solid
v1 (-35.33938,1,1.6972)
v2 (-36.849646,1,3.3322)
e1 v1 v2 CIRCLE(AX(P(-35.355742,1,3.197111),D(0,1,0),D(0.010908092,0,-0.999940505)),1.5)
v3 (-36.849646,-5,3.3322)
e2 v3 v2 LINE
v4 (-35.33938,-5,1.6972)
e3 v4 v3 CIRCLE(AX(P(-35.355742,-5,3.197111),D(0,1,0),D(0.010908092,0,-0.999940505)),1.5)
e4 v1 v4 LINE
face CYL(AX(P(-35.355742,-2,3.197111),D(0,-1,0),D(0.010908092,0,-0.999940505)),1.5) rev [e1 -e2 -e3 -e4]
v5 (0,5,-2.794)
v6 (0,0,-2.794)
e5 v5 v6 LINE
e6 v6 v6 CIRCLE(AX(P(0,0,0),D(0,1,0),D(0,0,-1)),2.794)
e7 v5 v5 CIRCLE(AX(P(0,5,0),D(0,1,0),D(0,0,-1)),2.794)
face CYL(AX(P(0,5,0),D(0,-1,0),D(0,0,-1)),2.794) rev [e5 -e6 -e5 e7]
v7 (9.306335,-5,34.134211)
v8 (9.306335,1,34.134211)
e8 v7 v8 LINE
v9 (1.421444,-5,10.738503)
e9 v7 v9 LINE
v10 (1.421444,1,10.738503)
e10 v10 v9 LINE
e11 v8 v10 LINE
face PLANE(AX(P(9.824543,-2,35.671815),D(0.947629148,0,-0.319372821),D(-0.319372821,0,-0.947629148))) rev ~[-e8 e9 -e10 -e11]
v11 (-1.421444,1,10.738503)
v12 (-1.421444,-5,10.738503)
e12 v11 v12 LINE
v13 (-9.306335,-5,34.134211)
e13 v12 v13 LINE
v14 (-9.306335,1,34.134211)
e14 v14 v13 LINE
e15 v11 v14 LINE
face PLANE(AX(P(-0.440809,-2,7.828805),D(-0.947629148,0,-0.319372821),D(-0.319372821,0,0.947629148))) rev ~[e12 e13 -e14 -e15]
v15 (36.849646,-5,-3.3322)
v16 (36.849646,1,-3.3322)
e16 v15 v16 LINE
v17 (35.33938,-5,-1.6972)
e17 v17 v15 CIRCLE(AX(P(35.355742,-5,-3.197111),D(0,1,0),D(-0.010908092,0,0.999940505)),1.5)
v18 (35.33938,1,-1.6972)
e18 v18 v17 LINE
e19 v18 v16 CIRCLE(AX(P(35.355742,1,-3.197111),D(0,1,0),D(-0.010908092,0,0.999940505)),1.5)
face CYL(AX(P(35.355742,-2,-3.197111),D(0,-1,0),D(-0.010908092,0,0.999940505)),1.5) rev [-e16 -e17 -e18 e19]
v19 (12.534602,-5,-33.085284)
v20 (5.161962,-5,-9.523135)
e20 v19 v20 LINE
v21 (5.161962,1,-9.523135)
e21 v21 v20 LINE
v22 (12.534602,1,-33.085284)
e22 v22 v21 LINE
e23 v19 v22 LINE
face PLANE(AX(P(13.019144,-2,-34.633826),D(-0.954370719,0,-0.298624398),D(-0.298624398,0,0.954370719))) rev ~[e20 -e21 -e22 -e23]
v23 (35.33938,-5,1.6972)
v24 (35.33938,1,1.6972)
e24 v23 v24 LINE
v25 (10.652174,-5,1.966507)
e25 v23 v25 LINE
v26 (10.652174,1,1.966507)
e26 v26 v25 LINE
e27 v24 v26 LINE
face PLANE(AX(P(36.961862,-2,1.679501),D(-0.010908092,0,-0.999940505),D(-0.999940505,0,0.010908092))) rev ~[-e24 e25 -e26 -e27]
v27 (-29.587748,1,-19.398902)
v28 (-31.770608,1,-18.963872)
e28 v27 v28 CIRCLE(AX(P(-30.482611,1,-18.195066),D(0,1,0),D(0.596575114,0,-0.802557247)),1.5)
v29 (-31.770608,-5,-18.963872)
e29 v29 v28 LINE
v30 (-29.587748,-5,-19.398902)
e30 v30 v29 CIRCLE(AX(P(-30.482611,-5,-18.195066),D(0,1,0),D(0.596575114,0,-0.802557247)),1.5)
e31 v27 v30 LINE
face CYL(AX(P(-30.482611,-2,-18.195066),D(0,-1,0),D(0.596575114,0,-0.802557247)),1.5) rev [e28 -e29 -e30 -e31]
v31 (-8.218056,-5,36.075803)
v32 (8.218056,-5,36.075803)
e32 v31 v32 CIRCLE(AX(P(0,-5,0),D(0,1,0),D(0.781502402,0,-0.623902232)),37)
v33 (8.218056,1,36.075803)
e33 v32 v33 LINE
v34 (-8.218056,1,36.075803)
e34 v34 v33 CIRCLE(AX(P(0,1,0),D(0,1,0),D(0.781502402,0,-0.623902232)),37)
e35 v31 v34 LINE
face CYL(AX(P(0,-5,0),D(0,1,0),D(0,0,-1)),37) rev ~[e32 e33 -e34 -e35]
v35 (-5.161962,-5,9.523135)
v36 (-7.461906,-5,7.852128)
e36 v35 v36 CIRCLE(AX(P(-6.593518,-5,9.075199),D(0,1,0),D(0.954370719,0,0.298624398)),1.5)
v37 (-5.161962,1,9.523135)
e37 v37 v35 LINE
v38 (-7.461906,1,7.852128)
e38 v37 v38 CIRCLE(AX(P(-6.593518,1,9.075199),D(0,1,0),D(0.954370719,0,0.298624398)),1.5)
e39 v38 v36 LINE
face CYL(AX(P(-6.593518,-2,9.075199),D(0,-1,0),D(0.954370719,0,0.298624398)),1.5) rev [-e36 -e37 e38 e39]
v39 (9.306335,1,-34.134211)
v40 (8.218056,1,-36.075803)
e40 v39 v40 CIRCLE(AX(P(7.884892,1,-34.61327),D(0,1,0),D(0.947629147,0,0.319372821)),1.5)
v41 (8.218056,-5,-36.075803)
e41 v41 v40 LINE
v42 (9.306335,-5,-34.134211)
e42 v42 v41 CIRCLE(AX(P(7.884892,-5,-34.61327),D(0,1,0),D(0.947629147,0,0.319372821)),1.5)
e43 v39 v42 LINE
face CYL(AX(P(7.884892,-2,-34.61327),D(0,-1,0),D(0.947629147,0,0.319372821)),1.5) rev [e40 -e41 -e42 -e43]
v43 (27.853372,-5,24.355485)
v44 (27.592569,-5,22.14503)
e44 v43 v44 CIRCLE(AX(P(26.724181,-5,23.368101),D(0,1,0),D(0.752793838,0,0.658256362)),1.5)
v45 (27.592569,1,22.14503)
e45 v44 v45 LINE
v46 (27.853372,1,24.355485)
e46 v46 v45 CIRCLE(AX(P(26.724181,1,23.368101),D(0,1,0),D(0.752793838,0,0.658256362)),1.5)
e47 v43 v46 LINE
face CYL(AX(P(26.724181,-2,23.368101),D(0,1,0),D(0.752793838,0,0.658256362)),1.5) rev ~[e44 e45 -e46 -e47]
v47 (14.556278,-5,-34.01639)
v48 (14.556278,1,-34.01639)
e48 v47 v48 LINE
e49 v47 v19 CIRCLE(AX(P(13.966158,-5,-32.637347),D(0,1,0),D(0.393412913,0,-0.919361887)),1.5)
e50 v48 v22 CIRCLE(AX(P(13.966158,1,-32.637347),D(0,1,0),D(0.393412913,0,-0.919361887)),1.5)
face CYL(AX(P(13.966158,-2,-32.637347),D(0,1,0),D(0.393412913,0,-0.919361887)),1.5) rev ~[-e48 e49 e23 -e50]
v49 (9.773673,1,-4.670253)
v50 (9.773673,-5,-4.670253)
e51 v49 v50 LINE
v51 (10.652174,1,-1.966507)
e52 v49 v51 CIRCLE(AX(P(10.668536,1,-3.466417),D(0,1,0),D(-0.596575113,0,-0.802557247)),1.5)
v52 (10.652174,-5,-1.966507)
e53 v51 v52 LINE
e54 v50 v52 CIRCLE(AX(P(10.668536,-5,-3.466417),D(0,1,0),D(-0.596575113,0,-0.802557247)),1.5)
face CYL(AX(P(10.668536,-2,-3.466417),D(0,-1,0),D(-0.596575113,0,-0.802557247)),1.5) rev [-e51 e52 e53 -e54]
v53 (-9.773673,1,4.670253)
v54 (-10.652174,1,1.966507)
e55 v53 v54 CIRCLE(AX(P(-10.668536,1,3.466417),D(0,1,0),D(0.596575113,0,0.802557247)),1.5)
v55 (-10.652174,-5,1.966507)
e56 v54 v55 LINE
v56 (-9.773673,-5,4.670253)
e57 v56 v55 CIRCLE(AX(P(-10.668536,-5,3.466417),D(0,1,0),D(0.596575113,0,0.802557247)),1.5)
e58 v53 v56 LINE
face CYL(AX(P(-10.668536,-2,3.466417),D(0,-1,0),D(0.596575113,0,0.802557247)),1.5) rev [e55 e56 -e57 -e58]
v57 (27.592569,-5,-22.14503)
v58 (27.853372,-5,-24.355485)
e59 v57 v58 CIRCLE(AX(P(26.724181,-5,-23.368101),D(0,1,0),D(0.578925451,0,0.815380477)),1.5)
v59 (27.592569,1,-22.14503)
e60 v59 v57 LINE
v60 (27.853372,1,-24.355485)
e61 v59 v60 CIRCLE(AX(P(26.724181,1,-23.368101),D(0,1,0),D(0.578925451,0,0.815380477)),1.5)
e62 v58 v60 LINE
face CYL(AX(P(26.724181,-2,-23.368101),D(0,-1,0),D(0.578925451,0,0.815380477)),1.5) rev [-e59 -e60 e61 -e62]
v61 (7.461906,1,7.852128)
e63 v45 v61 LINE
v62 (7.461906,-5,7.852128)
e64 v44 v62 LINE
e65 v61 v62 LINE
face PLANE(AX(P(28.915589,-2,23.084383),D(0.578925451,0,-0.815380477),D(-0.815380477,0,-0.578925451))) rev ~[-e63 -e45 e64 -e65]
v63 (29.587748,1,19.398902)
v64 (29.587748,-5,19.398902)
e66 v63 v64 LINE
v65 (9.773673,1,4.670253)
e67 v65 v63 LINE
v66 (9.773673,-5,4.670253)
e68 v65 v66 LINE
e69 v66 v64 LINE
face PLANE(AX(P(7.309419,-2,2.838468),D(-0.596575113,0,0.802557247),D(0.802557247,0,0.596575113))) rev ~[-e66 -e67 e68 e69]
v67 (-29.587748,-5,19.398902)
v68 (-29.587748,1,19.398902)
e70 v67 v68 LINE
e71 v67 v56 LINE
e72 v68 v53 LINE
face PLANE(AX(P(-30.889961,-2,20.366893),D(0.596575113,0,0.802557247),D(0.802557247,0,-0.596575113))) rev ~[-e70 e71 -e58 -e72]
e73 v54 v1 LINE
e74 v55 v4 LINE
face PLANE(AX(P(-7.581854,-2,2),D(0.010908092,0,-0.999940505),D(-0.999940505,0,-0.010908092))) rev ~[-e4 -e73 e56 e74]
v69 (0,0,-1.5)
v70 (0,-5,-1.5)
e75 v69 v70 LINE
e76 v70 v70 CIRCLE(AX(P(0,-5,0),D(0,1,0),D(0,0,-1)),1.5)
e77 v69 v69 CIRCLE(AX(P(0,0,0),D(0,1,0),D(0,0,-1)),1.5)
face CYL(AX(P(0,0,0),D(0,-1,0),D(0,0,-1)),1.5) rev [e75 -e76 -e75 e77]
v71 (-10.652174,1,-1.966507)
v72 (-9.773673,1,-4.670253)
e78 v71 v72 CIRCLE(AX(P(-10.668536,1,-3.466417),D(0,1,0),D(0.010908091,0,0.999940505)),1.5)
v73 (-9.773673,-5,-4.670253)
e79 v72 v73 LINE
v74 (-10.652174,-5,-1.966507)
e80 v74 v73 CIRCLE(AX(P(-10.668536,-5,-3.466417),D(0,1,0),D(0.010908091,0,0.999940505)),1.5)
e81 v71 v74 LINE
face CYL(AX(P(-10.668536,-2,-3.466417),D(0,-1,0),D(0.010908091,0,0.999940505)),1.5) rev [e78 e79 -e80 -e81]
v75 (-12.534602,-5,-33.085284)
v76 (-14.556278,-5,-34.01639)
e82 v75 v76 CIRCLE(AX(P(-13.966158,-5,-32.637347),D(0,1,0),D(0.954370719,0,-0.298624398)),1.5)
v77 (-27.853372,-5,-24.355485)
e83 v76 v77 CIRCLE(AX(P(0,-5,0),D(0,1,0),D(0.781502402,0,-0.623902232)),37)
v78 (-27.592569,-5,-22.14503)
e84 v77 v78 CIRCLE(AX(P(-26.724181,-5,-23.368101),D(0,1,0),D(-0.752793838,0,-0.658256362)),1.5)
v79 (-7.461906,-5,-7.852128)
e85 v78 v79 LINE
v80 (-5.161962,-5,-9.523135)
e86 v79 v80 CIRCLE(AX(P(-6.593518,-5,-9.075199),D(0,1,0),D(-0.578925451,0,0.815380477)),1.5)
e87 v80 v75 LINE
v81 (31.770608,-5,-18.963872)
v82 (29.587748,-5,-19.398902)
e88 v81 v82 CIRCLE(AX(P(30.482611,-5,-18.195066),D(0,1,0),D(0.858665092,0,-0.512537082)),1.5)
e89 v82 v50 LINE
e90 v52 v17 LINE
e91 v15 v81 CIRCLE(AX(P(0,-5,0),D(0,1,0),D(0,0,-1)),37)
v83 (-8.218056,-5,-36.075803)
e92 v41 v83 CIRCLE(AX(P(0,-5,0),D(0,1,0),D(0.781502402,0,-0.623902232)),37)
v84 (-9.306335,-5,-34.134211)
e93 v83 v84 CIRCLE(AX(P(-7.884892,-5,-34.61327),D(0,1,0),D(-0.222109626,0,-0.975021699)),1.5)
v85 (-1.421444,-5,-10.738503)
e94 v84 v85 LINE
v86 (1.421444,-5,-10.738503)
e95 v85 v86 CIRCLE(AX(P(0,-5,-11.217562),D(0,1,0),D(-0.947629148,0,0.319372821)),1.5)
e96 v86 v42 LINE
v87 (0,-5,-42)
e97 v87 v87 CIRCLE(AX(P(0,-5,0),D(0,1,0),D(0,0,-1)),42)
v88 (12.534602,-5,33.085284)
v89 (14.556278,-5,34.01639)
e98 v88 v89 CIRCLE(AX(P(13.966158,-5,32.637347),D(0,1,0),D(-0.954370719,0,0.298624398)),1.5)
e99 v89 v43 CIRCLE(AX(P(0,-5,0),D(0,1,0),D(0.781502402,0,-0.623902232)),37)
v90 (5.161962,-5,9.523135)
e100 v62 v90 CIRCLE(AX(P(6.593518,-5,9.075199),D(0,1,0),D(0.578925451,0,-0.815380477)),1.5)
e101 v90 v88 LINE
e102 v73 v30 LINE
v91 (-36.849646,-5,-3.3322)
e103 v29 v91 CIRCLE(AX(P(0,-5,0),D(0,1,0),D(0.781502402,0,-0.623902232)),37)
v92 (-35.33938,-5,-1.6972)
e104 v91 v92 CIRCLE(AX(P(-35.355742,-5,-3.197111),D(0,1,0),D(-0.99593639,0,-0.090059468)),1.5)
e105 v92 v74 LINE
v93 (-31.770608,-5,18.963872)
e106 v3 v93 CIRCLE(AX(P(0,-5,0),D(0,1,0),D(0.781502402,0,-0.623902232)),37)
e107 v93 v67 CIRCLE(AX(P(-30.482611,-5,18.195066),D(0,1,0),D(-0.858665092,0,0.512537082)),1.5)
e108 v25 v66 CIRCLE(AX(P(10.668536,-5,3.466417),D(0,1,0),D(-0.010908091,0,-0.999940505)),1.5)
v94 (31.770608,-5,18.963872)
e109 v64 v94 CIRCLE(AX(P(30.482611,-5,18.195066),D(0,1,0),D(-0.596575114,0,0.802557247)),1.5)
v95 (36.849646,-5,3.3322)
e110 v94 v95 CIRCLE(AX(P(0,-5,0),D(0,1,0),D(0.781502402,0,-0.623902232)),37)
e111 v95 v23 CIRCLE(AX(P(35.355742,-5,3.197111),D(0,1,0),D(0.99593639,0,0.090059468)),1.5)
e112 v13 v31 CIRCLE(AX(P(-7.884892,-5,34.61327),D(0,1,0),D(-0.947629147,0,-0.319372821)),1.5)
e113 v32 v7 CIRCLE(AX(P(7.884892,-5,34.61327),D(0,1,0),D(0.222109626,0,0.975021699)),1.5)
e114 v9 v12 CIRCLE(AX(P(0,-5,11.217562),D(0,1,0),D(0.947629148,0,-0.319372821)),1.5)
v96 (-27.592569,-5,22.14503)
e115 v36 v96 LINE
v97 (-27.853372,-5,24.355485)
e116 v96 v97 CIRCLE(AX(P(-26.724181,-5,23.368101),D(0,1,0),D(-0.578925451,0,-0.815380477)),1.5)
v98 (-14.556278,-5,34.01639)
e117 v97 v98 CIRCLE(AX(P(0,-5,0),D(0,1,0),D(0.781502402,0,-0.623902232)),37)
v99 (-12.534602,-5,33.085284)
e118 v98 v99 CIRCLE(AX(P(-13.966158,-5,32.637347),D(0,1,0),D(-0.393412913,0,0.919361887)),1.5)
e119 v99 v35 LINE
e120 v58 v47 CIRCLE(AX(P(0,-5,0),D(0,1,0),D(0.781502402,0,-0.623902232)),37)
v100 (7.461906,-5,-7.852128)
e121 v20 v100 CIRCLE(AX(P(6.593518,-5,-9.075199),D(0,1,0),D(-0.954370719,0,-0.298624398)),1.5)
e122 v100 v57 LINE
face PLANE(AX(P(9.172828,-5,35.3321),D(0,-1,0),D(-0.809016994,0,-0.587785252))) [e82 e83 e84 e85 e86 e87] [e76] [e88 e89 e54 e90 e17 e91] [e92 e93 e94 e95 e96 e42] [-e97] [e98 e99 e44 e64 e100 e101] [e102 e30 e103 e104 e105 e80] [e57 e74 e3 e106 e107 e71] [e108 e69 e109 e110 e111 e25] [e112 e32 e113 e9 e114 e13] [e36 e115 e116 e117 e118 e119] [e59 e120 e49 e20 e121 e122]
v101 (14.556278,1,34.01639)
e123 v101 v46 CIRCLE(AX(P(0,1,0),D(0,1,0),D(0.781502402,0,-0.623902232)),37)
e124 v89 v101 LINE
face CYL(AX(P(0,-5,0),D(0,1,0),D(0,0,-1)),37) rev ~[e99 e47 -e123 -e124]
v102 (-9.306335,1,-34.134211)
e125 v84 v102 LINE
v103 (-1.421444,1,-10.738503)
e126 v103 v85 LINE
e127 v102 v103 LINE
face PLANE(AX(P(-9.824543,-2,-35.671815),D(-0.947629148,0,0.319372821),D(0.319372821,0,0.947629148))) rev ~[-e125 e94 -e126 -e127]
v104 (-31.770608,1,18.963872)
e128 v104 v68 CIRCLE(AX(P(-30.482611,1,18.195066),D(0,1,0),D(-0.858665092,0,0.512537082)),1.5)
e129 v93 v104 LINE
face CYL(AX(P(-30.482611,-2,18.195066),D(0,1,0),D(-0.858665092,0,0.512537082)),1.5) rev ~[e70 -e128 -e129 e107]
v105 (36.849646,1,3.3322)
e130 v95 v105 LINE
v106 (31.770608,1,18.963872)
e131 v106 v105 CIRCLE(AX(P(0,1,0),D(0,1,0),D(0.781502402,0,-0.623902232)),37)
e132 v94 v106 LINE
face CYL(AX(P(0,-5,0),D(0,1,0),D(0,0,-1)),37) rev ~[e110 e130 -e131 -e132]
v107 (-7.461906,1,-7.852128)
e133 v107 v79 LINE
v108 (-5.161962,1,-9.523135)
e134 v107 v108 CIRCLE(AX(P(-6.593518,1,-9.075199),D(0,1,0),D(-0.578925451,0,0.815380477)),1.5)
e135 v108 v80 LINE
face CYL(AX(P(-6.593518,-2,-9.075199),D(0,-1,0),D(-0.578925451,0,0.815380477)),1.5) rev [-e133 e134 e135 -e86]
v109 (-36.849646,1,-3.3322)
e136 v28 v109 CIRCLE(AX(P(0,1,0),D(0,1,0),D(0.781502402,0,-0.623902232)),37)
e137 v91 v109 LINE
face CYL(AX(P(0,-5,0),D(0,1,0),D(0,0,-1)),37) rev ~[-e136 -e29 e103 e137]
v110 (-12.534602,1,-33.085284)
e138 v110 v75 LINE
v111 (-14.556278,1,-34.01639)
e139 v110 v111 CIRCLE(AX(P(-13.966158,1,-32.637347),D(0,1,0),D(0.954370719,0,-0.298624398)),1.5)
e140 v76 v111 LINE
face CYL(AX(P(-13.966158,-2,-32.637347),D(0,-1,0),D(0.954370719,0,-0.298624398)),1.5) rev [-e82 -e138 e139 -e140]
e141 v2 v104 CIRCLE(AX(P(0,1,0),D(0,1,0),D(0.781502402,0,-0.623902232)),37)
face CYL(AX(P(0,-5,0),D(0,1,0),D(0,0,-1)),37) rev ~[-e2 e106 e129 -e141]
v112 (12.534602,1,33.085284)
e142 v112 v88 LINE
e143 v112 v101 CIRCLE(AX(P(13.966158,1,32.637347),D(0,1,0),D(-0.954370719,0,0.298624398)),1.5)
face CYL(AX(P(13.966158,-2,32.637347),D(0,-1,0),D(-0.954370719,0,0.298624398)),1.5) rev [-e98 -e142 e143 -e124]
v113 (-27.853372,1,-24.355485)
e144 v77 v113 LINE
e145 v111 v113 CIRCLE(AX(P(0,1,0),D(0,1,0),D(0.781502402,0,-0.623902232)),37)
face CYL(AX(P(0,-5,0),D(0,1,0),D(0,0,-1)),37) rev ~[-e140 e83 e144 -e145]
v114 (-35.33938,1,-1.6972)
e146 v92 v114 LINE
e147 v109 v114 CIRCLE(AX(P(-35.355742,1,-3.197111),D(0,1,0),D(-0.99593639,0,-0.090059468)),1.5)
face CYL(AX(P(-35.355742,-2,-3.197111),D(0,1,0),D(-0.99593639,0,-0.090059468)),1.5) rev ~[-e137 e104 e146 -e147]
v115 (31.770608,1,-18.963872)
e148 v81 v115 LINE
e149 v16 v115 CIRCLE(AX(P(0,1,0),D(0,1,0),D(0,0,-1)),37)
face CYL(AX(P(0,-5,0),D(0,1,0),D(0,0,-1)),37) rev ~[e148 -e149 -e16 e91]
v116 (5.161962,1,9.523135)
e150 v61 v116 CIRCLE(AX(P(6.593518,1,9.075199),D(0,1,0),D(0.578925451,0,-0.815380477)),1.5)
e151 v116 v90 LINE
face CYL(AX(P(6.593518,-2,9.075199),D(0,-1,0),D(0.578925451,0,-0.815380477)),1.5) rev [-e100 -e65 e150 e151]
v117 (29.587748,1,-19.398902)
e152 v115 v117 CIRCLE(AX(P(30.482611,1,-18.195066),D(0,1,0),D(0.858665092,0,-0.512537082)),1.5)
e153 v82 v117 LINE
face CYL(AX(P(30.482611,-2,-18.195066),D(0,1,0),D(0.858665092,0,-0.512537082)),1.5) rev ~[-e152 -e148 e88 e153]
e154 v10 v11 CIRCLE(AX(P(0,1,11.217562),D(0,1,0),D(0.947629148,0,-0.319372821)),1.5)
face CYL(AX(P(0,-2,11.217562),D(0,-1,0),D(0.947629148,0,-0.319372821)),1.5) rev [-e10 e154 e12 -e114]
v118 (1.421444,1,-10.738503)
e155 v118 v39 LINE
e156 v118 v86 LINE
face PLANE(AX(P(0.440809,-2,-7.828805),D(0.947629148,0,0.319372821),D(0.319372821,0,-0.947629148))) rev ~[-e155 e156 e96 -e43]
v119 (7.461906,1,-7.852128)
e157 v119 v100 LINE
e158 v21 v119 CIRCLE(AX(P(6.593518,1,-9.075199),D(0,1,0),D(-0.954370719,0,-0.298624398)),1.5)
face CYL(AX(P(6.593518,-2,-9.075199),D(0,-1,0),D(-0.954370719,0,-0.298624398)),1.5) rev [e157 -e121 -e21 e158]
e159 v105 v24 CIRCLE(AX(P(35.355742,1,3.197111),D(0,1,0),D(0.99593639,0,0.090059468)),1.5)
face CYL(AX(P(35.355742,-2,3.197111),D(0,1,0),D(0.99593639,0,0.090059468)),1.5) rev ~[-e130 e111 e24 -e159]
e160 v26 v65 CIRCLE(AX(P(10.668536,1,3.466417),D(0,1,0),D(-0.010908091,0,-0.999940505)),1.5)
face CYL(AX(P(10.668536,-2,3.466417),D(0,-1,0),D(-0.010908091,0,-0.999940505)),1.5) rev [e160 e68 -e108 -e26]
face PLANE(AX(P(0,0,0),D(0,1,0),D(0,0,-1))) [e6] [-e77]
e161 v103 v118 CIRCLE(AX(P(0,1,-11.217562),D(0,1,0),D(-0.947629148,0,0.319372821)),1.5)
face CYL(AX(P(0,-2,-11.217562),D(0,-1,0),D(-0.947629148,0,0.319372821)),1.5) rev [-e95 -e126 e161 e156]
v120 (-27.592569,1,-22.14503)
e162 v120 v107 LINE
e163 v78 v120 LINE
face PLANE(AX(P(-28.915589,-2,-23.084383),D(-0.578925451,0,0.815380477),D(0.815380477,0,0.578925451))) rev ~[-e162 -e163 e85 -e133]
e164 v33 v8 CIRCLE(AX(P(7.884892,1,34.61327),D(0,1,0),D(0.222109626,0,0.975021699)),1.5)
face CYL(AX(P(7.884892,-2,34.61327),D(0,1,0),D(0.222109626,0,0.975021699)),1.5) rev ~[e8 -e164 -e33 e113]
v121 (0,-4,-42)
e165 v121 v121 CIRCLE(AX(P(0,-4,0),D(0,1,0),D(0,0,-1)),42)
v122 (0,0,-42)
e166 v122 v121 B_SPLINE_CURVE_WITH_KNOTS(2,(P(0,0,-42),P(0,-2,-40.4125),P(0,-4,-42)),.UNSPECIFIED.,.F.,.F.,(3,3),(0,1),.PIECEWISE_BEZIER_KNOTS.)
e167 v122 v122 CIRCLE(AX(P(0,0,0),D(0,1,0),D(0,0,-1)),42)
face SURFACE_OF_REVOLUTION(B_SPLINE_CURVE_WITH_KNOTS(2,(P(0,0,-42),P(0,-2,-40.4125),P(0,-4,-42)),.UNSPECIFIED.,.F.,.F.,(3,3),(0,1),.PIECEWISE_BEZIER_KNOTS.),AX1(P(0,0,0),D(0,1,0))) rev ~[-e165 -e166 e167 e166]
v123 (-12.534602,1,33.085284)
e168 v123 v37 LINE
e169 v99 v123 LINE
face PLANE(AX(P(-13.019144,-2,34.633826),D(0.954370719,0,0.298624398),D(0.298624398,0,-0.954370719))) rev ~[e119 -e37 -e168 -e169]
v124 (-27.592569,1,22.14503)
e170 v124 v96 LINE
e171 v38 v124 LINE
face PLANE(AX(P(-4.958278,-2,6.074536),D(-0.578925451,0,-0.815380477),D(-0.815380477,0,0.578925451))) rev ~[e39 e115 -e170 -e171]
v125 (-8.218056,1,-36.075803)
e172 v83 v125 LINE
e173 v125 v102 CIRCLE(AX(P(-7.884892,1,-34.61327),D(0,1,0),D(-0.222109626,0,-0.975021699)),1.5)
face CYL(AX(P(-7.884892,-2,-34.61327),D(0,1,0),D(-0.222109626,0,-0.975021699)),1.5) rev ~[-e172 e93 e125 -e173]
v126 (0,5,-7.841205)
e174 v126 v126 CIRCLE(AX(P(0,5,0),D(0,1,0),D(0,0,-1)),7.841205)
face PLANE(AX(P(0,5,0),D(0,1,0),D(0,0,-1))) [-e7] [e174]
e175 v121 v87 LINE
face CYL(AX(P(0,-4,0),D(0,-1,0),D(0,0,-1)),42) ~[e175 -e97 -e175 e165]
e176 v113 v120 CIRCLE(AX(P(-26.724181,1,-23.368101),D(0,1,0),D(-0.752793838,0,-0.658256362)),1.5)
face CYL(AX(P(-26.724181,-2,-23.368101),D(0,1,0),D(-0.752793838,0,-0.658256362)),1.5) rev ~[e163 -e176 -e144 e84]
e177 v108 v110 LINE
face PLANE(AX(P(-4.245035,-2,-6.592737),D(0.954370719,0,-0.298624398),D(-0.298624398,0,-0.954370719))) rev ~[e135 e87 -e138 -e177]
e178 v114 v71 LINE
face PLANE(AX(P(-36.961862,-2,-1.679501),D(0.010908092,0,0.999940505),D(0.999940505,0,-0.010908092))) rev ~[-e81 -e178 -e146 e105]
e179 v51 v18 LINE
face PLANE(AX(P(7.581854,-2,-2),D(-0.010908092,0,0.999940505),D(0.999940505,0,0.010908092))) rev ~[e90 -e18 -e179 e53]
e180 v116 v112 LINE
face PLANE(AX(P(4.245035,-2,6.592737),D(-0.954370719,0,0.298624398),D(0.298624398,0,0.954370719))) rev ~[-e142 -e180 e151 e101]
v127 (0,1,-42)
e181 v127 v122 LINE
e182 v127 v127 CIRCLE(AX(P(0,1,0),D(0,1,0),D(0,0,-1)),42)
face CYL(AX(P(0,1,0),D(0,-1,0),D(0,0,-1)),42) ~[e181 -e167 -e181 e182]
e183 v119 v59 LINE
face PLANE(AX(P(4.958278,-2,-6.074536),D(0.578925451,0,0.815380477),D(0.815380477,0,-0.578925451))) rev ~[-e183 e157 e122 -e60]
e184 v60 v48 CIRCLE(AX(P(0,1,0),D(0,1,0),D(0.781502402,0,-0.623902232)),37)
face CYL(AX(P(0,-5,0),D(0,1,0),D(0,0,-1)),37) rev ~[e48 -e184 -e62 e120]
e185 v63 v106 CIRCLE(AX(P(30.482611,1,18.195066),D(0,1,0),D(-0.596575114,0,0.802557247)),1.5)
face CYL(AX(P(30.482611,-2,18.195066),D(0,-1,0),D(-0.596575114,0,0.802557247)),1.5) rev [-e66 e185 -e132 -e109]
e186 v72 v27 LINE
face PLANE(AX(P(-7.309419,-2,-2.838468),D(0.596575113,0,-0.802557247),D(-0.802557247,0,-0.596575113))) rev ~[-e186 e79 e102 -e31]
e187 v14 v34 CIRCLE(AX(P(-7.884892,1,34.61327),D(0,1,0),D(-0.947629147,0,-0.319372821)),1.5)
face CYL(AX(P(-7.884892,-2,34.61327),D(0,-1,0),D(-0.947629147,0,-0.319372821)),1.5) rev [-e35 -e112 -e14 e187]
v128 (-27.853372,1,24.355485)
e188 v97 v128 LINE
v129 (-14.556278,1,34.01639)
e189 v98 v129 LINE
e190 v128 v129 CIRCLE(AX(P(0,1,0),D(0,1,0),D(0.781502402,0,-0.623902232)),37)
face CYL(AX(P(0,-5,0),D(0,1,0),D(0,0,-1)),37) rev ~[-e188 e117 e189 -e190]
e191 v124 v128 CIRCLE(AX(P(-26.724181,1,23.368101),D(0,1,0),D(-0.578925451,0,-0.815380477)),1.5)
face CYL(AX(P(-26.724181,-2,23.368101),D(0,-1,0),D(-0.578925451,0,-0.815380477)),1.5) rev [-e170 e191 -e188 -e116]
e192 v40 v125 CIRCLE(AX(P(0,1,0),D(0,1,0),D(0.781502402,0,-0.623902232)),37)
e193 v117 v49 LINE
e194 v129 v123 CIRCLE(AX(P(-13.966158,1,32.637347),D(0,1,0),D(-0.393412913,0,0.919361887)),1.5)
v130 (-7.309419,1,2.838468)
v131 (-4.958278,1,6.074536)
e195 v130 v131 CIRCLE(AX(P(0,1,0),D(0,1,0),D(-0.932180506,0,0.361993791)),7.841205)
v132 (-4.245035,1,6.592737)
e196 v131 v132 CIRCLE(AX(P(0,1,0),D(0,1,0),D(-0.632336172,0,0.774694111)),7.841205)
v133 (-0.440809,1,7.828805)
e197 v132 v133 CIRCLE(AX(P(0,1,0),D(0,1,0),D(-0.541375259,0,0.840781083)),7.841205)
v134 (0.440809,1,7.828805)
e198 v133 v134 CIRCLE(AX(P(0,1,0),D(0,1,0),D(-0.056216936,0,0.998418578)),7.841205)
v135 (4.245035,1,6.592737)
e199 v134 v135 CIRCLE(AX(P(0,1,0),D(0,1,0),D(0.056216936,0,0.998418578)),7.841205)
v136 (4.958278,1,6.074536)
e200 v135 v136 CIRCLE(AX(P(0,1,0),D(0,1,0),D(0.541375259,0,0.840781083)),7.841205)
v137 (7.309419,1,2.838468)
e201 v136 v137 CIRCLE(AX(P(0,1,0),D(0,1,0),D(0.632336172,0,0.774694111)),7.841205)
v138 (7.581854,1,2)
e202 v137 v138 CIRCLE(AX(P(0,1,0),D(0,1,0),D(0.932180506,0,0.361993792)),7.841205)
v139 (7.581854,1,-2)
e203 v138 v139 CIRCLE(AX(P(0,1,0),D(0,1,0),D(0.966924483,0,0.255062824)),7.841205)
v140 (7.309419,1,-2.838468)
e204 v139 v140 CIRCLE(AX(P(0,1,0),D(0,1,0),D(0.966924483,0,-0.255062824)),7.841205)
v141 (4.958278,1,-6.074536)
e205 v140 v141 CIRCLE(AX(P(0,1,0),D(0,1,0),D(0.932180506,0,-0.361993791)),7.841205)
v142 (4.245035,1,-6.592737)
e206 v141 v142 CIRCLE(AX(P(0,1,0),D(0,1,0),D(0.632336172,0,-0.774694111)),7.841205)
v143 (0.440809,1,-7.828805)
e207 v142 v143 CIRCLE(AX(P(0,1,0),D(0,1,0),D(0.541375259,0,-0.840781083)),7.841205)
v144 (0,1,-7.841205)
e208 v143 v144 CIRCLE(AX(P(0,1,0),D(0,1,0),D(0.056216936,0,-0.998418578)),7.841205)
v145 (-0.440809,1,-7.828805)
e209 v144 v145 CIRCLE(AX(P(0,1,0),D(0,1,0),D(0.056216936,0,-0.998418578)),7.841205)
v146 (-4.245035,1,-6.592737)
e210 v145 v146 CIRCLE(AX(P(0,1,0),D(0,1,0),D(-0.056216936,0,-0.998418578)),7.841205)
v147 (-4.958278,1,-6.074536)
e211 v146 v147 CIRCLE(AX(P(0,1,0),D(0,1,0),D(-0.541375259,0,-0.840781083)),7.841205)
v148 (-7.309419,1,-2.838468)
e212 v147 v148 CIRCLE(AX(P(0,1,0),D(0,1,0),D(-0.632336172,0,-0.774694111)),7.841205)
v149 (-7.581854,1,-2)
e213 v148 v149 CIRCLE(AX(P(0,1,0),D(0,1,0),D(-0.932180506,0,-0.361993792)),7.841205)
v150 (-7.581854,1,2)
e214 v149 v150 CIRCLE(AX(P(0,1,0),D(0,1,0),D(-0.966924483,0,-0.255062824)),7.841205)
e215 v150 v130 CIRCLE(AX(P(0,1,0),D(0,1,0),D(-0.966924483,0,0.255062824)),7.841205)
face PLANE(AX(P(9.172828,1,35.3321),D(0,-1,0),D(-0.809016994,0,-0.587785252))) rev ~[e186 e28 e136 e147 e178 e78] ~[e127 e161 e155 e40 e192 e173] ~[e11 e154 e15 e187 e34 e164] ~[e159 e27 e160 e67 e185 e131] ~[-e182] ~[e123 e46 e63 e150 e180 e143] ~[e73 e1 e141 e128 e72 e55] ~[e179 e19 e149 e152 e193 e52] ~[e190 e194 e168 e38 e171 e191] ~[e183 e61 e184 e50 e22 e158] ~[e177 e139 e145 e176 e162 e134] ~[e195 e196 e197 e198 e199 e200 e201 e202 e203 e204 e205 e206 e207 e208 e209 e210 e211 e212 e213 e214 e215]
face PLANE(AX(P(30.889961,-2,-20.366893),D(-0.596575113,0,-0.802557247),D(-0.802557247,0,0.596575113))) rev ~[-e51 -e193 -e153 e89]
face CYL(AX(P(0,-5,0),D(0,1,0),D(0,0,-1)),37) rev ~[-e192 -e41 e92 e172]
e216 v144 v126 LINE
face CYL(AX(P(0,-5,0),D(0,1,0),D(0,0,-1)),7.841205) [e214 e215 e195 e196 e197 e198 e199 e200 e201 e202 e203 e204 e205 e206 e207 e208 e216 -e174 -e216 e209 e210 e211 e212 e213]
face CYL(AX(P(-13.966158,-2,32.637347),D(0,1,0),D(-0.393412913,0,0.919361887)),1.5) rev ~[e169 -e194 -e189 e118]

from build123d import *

# Parameters (mm, degrees)
BOSS_EXTRUDE1_DEPTH = 3
CIRPATTERN1_COUNT   = 10
BOSS_EXTRUDE2_DEPTH = 3
CIRPATTERN3_COUNT   = 10


with BuildPart() as part:
    # Sketch2 → Revolve1 (revolve)
    with BuildSketch(Plane.XY, mode=Mode.PRIVATE) as revolve1_sk:
        Polygon((2.841205436, -5), (7.841205436, -5), (7.841205436, 5), (2.794, 5), (2.794, 0), (1.5, 0), (1.5, -5), align=None)
        with BuildLine():
            Line((42, -4), (42, -5))
            Line((42, -5), (37, -5))
            Line((37, -5), (37, 1))
            Line((37, 1), (42, 1))
            Line((42, 1), (42, 0))
            add(Edge.make_bspline(
                [(42, 0), (40.4125, -2), (42, -4)],
                knots=[0, 0, 0, 1, 1, 1], degree=2))
        make_face()
    revolve(revolve1_sk.sketch.rotate(Axis((0, 0, 0), (0, 1, 0)), 90), axis=Axis((0, 0, 0), (0, 1, 0)))

    # Sketch3 → Boss-Extrude1 (add, symmetric)
    with BuildSketch(Plane(origin=(0, -2, 0), x_dir=(1, 0, 0), z_dir=(0, 1, 0))):
        with BuildLine():
            Line((7.581853512, 2), (36.961862454, 1.679501106))
            ThreePointArc((36.961862454, 1.679501106), (37, 0), (36.961862454, -1.679501106))
            Line((36.961862454, -1.679501106), (7.581853512, -2))
            ThreePointArc((7.581853512, -2), (7.841205436, 0), (7.581853512, 2))
        make_face()
    boss_extrude1 = extrude(amount=BOSS_EXTRUDE1_DEPTH, both=True)

    # CirPattern1: Boss-Extrude1 ×10 about axis
    cirpattern1_axis = Axis((0, 0, 0), (0, 1, 0))
    for i in range(1, CIRPATTERN1_COUNT):
        add(boss_extrude1.rotate(cirpattern1_axis, i * 360 / CIRPATTERN1_COUNT))

    # Sketch4 → Boss-Extrude2 (add, symmetric)
    with BuildSketch(Plane(origin=(0, -2, 0), x_dir=(1, 0, 0), z_dir=(0, 1, 0))):
        with BuildLine():
            Line((4.958277836, -6.074535668), (7.461905948, -7.852127938))
            ThreePointArc((7.461905948, -7.852127938), (5.711839894, -7.861673162), (5.161961694, -9.523135251))
            Line((5.161961694, -9.523135251), (4.245034617, -6.5927372))
            ThreePointArc((4.245034617, -6.5927372), (4.608944915, -6.343668454), (4.958277836, -6.074535668))
        make_face()
        with BuildLine():
            Line((13.019144113, -34.633825757), (12.534602349, -33.085283591))
            ThreePointArc((12.534602349, -33.085283591), (13.338668476, -33.999791988), (14.556277797, -34.016389825))
            ThreePointArc((14.556277797, -34.016389825), (13.791166744, -34.333711128), (13.019144113, -34.633825757))
        make_face()
        with BuildLine():
            Line((27.592569409, -22.145030136), (28.915588887, -23.084382585))
            ThreePointArc((28.915588887, -23.084382585), (28.391594801, -23.725879218), (27.853371989, -24.355485395))
            ThreePointArc((27.853371989, -24.355485395), (28.213848481, -23.192341103), (27.592569409, -22.145030136))
        make_face()
    boss_extrude2 = extrude(amount=BOSS_EXTRUDE2_DEPTH, both=True)

    # CirPattern3: Boss-Extrude2 ×10 about axis
    cirpattern3_axis = Axis((0, 0, 0), (0, 1, 0))
    for i in range(1, CIRPATTERN3_COUNT):
        add(boss_extrude2.rotate(cirpattern3_axis, i * 360 / CIRPATTERN3_COUNT))


solid = part.part
